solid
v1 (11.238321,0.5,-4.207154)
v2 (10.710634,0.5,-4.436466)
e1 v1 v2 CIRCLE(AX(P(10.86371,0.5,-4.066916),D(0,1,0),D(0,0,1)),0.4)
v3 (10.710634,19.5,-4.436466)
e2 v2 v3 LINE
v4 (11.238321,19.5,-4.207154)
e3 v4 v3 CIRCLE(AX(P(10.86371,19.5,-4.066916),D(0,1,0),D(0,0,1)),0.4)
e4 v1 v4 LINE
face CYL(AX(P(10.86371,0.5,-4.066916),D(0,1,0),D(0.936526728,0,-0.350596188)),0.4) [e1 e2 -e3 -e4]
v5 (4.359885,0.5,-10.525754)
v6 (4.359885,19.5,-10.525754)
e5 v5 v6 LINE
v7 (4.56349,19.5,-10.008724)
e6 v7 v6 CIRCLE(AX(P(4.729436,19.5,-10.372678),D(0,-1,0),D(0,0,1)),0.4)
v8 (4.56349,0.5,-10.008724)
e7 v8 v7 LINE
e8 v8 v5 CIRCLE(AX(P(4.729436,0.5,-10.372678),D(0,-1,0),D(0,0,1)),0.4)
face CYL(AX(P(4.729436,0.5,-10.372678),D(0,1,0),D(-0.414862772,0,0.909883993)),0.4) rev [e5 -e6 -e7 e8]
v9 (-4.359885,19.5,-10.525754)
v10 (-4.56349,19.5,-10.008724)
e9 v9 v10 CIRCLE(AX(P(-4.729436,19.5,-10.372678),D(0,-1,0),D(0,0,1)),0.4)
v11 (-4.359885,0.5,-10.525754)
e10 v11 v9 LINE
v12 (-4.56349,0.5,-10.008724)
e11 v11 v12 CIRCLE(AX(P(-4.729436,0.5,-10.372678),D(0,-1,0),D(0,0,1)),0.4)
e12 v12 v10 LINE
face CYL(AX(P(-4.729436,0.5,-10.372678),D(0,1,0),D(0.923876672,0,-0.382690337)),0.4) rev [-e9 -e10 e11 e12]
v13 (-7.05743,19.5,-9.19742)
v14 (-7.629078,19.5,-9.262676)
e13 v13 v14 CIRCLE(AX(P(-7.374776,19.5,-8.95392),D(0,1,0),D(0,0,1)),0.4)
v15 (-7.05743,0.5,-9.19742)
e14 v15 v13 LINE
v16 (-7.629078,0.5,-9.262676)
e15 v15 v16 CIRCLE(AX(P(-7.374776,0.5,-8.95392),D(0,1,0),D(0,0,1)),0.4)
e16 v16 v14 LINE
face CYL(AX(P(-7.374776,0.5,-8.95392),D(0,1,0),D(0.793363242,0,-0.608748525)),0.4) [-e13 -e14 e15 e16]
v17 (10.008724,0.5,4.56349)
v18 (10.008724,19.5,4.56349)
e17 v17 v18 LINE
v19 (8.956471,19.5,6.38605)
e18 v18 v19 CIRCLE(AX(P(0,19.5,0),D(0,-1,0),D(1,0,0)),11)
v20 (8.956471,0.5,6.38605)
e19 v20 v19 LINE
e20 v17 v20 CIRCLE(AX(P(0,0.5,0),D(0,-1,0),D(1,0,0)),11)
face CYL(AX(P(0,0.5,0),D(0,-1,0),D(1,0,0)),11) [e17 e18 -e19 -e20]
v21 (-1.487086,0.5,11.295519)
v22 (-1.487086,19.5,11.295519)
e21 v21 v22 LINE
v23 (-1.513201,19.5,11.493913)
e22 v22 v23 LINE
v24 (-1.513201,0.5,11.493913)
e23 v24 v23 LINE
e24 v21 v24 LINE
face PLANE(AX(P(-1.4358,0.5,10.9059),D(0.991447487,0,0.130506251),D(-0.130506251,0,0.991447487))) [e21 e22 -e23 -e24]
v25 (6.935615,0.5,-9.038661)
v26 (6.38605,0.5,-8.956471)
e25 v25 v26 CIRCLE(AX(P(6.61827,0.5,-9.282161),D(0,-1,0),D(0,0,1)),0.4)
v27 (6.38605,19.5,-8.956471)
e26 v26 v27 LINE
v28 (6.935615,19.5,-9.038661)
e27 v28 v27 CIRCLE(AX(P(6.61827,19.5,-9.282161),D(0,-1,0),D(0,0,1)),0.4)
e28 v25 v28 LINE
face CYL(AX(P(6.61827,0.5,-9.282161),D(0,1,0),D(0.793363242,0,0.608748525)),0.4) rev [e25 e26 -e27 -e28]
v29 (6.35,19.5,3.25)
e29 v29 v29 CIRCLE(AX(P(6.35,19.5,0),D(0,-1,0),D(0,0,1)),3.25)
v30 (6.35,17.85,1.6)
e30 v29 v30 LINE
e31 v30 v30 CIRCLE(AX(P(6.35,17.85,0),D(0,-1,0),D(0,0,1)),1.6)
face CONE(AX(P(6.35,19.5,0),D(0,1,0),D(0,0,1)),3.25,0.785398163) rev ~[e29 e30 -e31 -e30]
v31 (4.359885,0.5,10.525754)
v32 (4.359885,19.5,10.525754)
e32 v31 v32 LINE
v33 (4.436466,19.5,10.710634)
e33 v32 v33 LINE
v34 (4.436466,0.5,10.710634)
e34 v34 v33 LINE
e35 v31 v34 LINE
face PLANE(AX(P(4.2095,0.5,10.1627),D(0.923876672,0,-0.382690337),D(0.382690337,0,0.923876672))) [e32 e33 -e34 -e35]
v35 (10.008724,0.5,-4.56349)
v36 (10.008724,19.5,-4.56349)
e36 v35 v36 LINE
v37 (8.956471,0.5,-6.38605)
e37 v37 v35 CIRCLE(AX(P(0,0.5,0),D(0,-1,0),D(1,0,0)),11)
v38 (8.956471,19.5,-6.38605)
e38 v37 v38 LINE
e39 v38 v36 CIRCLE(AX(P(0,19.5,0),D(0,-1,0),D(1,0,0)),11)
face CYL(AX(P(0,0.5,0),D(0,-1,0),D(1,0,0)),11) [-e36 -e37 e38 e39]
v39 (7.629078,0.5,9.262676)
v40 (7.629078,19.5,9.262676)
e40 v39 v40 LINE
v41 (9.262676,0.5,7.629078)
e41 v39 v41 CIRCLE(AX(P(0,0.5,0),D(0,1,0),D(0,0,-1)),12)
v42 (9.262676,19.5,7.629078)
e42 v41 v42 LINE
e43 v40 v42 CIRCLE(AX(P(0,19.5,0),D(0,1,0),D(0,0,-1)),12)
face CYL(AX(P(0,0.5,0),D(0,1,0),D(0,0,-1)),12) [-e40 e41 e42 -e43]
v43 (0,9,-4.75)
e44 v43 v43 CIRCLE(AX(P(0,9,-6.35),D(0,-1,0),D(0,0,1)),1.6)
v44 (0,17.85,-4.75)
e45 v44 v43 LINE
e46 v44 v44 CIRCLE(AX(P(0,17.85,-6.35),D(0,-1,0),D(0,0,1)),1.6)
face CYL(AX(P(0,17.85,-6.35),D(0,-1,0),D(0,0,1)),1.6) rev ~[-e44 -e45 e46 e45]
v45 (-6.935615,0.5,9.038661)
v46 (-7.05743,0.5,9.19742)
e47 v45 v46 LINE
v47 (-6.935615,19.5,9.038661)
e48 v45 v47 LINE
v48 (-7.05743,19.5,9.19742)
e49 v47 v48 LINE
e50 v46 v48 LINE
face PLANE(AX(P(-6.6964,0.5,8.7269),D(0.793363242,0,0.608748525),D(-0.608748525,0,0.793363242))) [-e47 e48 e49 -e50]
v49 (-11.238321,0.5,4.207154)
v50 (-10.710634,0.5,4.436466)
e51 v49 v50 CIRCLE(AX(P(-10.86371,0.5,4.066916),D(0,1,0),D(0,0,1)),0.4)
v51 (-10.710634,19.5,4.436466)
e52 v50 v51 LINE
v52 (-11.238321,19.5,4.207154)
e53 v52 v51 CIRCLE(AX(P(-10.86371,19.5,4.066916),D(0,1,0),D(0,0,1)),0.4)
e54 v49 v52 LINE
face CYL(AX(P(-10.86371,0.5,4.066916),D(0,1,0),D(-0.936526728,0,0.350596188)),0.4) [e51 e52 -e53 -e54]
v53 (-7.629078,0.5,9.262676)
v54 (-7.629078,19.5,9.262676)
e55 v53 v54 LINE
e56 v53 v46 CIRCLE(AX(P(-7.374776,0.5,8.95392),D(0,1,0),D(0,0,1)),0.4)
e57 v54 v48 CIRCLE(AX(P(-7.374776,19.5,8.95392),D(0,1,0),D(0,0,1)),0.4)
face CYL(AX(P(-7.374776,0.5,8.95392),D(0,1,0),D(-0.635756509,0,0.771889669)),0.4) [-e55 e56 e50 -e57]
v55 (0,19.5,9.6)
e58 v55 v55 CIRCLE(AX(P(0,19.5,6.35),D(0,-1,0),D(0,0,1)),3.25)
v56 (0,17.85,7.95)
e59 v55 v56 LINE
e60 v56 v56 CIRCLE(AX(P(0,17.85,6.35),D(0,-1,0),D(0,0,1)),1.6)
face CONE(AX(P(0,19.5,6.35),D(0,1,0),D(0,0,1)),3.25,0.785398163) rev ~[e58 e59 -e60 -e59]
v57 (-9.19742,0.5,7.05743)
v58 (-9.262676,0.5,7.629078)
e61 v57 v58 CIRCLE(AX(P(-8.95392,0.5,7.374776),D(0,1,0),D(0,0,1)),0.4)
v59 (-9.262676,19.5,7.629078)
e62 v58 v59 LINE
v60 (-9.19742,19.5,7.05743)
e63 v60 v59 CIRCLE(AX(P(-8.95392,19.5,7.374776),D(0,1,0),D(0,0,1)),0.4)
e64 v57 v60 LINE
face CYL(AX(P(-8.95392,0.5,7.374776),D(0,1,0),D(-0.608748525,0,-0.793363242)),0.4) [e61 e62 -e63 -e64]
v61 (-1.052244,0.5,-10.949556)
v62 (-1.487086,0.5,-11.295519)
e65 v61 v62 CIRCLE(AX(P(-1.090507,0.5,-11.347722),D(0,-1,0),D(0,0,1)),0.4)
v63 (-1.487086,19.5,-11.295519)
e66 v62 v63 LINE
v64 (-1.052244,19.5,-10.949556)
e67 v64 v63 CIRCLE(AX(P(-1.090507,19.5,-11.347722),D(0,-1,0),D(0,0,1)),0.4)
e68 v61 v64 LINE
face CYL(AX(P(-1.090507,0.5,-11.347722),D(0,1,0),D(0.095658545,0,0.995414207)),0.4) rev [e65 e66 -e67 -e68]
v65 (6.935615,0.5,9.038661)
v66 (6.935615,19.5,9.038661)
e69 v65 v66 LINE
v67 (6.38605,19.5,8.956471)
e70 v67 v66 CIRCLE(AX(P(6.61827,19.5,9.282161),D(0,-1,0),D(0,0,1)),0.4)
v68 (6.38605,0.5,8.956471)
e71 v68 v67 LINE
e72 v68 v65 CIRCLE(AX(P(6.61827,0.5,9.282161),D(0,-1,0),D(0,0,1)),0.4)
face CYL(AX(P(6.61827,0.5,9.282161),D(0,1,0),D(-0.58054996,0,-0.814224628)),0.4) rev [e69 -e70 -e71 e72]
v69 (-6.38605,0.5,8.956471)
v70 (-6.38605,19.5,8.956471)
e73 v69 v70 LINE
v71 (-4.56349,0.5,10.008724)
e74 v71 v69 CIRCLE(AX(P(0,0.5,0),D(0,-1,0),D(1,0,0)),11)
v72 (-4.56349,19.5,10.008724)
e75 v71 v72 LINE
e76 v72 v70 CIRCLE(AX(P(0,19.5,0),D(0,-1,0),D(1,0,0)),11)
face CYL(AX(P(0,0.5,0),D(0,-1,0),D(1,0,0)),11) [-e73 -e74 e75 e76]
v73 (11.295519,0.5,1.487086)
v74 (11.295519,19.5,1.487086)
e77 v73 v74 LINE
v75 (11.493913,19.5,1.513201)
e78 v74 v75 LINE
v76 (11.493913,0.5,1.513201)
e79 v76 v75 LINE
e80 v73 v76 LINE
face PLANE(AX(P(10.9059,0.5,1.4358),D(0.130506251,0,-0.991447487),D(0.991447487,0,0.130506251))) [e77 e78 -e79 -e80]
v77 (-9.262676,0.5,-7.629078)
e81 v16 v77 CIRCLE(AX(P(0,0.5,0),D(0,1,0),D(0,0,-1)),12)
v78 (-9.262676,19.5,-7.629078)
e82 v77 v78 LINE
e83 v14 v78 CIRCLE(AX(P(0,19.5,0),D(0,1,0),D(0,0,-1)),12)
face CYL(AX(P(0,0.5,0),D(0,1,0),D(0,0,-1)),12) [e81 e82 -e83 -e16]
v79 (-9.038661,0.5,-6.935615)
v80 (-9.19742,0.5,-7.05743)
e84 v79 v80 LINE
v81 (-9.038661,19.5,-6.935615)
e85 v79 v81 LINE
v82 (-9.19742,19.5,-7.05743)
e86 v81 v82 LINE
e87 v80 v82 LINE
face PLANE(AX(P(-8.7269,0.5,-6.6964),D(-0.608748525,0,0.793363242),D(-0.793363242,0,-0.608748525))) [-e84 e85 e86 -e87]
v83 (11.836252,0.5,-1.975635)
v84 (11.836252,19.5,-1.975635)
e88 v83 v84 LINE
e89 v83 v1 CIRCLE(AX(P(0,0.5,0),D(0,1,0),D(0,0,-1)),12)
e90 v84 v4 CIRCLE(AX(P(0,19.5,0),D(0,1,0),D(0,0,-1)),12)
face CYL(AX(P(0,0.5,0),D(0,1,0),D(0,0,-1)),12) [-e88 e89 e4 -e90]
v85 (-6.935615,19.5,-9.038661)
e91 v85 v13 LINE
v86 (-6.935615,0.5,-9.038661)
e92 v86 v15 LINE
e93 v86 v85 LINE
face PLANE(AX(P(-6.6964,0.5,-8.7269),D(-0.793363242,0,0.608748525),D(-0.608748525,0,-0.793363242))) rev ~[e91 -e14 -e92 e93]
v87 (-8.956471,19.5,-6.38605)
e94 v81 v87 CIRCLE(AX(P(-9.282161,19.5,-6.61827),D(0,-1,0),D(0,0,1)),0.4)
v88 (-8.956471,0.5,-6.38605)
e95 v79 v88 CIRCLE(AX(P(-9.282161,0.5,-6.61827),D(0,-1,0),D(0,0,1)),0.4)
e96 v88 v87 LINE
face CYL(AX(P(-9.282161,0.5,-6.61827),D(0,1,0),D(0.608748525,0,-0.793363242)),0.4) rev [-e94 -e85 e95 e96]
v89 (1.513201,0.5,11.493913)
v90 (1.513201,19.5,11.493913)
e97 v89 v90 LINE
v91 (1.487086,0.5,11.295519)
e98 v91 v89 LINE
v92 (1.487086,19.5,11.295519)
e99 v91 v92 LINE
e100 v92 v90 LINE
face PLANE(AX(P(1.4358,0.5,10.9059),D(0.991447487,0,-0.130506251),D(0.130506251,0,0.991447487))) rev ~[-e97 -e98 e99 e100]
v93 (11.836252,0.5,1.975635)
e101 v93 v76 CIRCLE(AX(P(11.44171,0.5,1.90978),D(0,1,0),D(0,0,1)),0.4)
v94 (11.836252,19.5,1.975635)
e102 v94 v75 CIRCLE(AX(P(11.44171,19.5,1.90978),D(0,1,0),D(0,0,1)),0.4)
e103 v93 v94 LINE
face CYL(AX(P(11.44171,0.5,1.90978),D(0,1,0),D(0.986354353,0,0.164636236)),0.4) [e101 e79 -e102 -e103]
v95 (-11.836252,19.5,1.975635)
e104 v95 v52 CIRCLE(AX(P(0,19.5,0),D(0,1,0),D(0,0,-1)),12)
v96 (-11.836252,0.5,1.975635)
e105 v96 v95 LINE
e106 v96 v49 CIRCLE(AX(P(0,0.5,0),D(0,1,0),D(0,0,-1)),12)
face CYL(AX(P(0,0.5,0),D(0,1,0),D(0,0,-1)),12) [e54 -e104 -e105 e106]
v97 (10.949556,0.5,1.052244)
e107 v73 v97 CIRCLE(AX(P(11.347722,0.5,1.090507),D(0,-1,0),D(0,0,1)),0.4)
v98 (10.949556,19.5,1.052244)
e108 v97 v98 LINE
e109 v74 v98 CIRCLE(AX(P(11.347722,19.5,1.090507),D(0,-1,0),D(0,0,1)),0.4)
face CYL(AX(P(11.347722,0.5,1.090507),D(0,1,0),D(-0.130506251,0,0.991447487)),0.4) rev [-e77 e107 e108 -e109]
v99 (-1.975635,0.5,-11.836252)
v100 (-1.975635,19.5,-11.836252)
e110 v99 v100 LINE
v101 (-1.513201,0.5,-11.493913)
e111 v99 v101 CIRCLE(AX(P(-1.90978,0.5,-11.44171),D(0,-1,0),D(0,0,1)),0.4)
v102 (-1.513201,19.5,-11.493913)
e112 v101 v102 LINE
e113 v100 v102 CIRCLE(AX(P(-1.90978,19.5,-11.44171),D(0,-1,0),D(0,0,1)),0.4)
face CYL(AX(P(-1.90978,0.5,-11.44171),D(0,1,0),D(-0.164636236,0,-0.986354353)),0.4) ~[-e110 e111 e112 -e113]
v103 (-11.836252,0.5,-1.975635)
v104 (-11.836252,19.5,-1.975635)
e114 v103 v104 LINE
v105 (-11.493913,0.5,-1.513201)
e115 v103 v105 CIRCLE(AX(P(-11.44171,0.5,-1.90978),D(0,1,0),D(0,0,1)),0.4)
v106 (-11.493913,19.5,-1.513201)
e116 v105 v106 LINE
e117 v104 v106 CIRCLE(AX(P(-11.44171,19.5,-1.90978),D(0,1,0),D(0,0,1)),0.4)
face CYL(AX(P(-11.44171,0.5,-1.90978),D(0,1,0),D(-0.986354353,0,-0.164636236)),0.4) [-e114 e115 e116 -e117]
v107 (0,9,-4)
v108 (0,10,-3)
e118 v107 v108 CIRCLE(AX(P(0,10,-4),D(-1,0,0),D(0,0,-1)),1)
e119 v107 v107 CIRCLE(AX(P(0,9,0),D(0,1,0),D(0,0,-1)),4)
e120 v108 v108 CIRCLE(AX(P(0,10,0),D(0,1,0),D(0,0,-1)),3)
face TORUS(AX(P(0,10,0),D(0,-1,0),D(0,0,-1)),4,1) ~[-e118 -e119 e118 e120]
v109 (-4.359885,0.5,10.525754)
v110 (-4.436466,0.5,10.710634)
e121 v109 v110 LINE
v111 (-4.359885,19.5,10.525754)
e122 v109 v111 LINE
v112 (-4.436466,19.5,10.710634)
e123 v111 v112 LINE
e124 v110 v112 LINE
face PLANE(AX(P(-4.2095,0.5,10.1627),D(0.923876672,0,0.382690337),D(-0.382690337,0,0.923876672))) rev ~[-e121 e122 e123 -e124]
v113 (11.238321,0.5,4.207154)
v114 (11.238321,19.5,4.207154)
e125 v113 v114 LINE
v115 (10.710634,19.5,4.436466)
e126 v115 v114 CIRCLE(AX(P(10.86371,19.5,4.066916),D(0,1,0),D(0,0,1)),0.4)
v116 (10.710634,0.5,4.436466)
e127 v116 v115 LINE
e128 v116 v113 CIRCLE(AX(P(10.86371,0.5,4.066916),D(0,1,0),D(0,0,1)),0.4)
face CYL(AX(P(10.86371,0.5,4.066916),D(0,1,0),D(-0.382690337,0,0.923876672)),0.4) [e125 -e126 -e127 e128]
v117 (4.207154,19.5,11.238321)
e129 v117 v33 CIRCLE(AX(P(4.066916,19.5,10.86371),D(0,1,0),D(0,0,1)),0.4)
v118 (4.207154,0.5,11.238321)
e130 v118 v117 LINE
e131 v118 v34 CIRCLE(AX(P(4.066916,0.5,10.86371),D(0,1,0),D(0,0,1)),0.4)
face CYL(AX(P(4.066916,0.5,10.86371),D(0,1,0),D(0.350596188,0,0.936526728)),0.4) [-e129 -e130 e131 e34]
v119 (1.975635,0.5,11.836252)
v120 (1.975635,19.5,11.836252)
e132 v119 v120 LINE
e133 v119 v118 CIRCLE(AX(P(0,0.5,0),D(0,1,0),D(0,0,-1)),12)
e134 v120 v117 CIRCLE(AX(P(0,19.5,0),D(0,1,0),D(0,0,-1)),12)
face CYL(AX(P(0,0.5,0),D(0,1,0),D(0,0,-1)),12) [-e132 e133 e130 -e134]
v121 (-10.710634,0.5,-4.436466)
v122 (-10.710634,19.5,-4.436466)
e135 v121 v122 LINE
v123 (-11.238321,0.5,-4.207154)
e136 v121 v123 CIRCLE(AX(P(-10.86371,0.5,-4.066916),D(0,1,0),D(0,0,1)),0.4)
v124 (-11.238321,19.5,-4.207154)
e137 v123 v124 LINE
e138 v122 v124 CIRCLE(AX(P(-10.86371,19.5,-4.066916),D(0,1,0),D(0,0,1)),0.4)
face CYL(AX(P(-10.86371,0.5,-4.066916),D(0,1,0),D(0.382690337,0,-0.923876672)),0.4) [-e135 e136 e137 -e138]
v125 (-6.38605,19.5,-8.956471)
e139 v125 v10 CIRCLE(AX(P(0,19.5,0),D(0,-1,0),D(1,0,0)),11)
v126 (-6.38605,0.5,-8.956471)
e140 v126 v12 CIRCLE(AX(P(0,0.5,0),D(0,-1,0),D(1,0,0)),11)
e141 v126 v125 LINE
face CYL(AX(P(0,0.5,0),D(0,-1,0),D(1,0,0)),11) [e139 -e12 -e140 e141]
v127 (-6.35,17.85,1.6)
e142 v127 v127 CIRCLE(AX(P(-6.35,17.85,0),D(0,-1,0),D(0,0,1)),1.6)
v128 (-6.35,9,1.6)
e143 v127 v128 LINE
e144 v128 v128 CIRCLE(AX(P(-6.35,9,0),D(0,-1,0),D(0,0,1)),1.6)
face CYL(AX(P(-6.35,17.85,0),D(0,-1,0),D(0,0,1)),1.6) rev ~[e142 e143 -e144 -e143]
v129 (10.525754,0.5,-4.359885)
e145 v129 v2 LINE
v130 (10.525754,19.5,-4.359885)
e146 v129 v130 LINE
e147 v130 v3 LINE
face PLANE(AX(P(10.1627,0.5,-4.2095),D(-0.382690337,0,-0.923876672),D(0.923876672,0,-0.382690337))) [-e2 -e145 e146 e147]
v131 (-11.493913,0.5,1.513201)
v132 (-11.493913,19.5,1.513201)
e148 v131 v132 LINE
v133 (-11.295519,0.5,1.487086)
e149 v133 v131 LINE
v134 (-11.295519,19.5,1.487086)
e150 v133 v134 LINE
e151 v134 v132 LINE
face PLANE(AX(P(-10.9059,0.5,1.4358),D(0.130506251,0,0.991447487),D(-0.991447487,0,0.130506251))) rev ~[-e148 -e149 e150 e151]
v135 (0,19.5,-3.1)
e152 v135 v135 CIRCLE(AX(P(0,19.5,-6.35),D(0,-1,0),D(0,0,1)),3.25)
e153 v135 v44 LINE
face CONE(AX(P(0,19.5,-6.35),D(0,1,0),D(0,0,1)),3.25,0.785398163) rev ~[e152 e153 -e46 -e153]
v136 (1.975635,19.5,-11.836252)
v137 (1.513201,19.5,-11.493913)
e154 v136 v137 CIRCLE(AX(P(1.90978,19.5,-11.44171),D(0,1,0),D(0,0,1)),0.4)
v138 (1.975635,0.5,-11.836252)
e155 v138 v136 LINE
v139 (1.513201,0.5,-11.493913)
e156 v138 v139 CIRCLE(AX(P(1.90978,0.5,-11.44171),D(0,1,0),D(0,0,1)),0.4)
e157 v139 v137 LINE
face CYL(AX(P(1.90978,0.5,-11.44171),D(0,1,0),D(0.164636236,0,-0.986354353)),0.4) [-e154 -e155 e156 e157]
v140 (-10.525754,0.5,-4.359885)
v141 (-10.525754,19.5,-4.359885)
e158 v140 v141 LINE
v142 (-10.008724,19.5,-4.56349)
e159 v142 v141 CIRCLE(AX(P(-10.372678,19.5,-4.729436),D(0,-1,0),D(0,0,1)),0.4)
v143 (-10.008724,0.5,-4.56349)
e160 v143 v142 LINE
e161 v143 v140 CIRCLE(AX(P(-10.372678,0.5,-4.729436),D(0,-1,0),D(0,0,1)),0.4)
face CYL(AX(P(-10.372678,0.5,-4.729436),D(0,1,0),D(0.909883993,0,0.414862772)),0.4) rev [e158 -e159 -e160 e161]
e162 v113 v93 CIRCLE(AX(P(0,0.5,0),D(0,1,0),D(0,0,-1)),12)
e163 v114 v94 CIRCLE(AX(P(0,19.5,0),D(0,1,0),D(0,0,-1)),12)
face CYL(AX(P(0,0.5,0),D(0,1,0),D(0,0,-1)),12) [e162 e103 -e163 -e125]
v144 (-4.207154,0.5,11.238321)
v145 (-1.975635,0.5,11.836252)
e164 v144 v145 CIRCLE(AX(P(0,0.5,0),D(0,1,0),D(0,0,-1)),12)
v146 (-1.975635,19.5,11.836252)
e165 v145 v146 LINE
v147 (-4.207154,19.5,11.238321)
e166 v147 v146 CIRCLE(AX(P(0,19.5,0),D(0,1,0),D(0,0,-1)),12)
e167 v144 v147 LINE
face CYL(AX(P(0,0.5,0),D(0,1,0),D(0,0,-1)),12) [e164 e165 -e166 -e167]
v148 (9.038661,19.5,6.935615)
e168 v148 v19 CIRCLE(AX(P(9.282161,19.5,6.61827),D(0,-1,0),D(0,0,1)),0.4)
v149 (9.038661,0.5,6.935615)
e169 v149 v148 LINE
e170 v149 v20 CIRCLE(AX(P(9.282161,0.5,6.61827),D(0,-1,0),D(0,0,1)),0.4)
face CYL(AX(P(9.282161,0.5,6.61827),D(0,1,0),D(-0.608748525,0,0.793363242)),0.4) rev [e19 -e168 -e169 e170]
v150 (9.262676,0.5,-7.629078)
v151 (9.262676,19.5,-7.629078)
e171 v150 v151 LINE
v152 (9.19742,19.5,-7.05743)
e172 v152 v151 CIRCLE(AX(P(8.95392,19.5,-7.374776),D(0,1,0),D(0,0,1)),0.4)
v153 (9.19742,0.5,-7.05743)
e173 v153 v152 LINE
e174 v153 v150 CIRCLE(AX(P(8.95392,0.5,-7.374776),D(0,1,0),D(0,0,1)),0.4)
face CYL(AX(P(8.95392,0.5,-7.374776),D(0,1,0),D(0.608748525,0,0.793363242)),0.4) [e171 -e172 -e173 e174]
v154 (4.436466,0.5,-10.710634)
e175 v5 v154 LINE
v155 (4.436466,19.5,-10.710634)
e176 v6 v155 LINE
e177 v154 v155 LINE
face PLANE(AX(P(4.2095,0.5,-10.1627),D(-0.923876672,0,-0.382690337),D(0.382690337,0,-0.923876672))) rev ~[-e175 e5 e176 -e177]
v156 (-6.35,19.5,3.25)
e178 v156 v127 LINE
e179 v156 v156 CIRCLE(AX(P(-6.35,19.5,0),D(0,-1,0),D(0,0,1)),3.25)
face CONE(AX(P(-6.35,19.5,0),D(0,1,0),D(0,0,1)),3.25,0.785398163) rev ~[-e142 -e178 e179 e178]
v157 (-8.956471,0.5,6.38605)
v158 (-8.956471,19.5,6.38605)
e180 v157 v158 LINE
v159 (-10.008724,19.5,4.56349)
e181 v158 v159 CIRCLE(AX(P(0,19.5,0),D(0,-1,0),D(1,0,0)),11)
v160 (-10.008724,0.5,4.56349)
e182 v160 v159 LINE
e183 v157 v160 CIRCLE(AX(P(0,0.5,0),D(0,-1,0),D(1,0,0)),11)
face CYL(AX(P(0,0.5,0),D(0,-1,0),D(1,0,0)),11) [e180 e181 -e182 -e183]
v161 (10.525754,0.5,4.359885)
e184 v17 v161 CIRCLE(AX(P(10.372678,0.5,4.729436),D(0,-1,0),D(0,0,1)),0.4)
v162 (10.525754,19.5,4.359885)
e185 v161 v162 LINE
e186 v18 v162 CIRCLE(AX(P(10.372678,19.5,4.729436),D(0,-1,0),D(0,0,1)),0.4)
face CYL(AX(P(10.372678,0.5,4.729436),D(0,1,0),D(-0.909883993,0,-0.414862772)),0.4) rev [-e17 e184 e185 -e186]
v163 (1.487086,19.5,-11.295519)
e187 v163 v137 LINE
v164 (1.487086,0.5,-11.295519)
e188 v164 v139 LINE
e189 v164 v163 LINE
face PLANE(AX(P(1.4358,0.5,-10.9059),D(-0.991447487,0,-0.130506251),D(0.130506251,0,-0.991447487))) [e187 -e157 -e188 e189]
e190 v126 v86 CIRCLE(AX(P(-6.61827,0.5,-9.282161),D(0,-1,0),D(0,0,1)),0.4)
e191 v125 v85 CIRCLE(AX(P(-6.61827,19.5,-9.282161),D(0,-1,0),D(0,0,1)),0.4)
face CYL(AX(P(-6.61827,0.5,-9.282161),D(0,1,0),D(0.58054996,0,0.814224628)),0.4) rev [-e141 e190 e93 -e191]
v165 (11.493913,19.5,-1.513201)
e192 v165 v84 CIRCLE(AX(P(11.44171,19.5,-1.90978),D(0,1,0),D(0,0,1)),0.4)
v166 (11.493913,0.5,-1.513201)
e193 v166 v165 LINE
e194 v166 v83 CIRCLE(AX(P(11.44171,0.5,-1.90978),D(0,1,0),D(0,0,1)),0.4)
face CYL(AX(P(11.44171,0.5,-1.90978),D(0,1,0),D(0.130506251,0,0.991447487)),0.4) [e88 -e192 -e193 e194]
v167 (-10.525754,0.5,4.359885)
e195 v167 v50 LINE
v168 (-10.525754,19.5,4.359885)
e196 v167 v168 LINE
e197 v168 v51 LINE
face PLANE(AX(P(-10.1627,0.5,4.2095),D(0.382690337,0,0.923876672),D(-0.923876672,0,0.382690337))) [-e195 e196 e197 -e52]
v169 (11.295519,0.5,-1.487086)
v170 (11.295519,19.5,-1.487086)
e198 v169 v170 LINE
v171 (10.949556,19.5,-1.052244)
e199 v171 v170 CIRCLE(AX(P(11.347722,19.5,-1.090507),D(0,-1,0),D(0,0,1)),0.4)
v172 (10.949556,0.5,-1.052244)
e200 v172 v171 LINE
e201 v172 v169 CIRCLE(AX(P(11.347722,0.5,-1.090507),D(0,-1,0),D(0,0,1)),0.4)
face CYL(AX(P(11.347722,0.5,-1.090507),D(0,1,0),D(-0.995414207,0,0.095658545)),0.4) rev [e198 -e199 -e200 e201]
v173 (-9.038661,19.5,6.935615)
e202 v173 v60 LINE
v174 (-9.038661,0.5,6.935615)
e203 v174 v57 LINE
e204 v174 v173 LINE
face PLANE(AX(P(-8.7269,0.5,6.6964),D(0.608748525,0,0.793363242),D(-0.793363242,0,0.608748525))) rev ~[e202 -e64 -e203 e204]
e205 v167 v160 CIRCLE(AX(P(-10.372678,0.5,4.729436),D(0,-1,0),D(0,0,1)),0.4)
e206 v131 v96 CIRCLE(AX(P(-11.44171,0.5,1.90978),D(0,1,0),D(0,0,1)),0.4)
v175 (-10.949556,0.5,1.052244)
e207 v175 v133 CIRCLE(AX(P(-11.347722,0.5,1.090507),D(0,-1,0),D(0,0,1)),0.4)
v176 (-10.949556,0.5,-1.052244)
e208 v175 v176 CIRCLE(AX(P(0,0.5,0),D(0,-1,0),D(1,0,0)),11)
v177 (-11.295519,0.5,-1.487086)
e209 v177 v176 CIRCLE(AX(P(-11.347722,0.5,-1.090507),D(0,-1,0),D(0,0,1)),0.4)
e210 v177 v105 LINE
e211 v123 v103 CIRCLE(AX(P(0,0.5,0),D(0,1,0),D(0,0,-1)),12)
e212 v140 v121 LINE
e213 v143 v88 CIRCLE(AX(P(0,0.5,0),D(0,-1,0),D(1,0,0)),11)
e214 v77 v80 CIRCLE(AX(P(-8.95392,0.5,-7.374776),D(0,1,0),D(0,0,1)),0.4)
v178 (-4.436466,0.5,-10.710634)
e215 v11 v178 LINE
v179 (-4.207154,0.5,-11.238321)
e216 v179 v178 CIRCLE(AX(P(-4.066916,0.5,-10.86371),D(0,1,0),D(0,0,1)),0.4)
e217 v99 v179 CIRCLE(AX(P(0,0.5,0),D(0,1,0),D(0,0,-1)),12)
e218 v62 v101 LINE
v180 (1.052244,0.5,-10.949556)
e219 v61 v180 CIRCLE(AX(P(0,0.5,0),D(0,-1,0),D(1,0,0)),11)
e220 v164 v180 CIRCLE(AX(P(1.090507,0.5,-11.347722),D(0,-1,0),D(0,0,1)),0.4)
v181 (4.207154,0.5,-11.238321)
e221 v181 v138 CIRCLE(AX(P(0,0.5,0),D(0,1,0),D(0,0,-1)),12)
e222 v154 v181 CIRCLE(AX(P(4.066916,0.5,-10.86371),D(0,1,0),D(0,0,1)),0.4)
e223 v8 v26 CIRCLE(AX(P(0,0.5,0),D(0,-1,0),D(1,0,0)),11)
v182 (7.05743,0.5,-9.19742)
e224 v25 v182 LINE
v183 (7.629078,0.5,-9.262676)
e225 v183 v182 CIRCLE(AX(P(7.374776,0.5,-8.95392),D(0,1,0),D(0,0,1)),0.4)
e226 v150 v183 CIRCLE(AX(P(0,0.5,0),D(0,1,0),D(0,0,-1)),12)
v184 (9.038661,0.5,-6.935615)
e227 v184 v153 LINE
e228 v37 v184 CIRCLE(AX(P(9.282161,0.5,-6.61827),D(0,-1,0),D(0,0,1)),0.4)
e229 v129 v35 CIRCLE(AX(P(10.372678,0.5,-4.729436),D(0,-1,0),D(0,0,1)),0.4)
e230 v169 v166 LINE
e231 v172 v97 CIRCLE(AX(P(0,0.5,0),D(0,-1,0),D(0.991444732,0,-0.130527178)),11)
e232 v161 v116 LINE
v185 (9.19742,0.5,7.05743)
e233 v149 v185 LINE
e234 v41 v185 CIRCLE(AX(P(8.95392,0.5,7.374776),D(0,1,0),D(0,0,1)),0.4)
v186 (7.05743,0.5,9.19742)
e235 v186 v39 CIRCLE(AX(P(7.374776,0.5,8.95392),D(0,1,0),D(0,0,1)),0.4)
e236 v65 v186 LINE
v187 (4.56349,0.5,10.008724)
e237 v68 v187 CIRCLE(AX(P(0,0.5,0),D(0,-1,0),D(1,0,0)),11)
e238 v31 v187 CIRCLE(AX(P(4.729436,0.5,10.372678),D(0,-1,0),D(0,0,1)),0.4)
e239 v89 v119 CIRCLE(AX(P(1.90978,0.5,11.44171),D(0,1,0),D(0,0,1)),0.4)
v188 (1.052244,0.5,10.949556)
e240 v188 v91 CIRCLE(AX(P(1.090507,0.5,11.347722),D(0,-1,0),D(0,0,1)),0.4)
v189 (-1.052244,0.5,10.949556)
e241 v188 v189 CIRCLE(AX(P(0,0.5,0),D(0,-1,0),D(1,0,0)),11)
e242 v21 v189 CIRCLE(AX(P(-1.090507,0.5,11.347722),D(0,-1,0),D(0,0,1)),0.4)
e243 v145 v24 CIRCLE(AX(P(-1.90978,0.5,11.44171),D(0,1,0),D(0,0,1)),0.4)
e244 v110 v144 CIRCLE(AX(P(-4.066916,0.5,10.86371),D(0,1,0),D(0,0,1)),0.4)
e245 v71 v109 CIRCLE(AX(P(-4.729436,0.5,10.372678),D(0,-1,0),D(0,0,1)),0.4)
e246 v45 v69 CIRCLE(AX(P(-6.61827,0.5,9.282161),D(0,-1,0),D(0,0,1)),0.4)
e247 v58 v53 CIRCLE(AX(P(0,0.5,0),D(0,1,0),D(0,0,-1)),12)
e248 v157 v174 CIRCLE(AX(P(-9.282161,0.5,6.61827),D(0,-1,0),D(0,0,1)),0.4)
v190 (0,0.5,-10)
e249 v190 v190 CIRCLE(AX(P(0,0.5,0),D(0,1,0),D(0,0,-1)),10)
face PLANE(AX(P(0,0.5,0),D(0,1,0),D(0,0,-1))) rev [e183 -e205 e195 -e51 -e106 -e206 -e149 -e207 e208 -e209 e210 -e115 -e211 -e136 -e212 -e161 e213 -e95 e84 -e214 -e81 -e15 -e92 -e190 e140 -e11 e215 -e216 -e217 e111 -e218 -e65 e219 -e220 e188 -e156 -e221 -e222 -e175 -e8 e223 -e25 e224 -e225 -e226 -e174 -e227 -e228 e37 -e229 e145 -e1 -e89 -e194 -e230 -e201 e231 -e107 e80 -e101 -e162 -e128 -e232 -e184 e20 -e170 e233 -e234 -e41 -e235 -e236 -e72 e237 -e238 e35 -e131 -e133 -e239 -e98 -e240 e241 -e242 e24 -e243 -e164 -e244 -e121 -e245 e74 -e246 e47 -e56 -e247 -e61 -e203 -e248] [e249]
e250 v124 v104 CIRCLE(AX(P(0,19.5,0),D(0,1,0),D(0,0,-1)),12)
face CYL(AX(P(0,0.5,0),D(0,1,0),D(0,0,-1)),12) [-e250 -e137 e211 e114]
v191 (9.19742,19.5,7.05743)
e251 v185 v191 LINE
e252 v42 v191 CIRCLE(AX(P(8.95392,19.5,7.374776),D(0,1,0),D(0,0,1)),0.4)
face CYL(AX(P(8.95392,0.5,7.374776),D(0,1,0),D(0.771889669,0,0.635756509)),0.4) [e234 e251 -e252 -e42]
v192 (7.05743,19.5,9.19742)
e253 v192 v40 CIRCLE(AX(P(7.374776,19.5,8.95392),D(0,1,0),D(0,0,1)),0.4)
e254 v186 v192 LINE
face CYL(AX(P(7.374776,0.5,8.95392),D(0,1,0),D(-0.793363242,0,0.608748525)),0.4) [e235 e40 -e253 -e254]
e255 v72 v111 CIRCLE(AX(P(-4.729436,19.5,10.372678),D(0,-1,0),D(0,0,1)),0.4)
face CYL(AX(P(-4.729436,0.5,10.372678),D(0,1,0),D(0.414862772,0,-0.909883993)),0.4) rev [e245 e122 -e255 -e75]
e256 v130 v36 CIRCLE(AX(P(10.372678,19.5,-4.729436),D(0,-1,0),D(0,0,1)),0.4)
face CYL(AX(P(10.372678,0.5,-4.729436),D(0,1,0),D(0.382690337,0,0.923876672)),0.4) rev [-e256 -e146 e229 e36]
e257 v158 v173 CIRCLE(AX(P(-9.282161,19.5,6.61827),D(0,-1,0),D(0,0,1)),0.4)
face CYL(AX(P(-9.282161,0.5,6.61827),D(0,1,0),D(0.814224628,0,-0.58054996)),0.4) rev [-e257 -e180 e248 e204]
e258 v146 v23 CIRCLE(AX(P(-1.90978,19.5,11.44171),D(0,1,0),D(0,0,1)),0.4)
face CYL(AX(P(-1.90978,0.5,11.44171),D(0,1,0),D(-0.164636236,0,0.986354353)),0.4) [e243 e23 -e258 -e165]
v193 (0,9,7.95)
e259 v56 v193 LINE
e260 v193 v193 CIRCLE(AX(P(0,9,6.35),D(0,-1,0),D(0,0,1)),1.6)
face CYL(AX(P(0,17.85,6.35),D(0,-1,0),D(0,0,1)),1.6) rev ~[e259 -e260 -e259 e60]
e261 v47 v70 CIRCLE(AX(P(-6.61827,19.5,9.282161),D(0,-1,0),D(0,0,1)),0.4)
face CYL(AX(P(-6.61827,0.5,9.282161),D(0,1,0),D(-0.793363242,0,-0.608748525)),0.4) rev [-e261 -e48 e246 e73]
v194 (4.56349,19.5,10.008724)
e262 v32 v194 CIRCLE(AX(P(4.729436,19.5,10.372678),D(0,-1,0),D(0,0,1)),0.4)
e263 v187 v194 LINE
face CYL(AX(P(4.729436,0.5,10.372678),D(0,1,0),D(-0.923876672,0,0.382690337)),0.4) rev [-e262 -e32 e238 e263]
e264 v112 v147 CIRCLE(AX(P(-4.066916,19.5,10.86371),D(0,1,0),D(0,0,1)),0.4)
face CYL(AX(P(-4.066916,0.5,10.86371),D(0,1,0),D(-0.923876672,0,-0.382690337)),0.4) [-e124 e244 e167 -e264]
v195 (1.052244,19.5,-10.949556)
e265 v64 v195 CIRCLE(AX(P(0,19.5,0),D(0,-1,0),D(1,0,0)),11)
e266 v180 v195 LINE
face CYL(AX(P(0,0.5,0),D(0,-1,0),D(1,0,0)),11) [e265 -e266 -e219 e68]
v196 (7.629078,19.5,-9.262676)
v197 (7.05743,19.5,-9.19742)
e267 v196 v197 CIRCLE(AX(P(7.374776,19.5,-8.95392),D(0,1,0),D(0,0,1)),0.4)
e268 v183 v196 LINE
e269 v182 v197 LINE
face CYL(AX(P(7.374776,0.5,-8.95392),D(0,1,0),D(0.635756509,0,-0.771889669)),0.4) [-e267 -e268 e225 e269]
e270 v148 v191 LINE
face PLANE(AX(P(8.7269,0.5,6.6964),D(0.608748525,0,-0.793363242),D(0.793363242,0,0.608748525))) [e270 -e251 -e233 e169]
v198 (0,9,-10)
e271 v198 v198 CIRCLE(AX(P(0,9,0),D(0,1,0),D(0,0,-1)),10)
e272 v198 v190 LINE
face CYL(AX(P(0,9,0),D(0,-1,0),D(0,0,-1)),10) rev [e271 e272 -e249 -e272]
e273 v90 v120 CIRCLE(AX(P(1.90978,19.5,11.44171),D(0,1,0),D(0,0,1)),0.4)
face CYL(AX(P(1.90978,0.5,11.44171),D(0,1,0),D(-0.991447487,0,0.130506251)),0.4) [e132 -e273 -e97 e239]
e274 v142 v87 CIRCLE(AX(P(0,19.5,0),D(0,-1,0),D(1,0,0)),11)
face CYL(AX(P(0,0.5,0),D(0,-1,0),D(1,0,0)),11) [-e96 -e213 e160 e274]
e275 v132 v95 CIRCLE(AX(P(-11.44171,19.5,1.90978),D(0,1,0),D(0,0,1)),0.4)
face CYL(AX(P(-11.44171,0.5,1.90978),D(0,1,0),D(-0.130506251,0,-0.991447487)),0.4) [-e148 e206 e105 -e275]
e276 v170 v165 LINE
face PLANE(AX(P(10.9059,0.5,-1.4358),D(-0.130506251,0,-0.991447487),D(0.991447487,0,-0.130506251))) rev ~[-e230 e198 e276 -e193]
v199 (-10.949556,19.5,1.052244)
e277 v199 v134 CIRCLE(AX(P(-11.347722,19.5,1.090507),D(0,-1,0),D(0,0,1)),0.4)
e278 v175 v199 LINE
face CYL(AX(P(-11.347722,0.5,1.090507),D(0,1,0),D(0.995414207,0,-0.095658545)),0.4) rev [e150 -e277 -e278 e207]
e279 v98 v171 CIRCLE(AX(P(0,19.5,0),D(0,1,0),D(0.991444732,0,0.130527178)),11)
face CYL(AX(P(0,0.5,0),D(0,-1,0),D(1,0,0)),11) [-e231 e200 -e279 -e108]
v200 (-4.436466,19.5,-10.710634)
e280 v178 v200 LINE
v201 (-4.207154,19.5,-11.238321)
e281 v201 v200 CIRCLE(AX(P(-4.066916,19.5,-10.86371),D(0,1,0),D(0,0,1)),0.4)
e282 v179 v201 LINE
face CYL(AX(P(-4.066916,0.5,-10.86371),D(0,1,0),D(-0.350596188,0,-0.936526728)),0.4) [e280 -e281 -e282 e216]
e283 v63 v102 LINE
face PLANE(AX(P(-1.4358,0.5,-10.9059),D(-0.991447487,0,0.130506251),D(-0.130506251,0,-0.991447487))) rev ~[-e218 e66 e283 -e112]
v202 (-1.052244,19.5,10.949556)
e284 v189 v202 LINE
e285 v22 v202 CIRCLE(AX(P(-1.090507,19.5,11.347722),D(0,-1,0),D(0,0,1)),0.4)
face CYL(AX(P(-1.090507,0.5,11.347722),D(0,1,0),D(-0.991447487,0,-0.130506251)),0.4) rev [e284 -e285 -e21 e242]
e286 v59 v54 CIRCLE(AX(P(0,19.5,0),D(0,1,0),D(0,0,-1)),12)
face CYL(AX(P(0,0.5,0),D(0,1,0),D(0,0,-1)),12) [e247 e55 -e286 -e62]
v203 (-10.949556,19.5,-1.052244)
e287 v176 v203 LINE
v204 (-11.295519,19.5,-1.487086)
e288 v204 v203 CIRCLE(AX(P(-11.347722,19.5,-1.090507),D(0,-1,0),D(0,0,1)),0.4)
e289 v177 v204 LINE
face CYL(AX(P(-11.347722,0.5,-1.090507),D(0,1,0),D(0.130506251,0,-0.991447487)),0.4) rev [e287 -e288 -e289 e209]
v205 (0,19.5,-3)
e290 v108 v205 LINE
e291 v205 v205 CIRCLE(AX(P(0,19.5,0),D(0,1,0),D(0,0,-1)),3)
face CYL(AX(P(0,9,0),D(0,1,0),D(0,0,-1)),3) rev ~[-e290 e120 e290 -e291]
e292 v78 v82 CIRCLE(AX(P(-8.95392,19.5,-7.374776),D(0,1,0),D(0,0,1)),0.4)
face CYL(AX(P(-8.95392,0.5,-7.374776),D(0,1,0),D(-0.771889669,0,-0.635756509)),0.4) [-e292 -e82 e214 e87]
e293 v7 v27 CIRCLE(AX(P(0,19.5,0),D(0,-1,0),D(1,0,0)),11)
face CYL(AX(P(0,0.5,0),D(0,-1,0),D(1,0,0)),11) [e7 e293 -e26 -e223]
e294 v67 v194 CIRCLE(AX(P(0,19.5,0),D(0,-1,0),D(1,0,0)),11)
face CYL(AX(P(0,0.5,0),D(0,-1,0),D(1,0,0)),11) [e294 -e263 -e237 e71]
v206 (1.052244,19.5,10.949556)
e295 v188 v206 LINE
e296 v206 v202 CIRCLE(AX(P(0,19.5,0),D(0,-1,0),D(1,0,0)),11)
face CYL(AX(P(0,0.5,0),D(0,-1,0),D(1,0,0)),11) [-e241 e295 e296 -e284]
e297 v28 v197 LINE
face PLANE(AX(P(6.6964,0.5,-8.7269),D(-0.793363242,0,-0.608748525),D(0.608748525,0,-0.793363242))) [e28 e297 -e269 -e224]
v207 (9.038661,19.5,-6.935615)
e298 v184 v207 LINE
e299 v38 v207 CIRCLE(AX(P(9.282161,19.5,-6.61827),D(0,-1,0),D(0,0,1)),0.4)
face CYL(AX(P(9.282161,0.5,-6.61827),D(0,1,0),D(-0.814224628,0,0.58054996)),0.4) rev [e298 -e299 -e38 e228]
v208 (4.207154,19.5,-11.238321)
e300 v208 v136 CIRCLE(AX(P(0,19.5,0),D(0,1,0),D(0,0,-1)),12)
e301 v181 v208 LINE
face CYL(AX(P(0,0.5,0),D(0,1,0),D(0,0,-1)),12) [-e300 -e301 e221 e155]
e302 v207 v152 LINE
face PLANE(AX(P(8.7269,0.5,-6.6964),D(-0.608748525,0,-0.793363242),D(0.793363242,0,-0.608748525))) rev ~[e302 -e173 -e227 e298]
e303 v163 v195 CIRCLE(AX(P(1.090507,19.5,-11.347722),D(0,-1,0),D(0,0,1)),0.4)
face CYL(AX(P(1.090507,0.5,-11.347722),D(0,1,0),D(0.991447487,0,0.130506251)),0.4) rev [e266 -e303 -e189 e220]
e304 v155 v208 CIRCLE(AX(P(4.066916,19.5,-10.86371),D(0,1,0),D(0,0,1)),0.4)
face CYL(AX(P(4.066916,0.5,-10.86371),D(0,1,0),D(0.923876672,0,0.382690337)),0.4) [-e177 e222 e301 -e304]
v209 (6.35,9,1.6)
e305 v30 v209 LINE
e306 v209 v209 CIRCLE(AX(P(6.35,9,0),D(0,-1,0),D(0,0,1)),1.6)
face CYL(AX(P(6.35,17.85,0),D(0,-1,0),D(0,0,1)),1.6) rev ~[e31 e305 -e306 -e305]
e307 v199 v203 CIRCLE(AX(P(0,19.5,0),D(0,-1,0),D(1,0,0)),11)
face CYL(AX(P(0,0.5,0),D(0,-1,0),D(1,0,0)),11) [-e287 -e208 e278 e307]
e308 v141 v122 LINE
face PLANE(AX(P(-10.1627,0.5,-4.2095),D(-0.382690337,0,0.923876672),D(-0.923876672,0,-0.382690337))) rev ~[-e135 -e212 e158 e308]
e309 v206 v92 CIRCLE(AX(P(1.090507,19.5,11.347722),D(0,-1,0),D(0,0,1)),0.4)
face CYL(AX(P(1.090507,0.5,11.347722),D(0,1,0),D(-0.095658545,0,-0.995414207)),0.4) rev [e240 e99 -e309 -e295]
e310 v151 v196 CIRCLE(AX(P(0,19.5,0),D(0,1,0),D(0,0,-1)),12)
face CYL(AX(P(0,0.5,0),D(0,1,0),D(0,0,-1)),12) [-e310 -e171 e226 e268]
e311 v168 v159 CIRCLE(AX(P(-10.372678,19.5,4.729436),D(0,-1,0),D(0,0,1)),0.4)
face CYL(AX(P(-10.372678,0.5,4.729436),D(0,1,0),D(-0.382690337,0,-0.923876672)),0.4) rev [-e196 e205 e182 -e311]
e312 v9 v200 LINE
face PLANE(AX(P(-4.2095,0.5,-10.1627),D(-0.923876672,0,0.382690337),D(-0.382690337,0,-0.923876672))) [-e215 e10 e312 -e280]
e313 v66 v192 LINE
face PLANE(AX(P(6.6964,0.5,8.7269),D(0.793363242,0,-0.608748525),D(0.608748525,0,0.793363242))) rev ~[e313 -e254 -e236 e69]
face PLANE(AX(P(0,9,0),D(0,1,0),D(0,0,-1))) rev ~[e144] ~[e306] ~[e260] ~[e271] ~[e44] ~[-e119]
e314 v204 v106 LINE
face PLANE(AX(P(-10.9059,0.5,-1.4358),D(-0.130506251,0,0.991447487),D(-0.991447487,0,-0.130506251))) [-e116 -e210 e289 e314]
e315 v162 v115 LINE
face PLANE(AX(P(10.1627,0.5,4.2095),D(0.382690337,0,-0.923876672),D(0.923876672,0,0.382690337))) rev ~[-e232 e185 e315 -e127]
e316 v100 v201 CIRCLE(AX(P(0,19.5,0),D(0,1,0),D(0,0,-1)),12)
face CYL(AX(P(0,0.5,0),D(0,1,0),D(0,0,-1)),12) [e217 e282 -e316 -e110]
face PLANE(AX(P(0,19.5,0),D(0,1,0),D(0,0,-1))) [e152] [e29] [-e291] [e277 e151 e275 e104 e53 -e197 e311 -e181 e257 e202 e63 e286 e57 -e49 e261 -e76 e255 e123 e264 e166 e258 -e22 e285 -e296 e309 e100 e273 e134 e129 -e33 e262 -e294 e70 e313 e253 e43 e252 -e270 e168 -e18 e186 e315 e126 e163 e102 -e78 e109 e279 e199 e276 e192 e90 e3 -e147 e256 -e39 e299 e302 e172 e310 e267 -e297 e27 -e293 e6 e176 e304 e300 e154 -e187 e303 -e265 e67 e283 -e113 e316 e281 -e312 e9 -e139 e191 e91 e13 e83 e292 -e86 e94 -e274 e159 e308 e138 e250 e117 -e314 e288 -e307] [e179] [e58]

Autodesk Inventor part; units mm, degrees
ref_plane "YZ Plane" through (0, 0, 0) normal (1, 0, 0) x (0, 1, 0)
ref_plane "XZ Plane" through (0, 0, 0) normal (0, 1, 0) x (-1, 0, 0)
ref_plane "XY Plane" through (0, 0, 0) normal (0, 0, 1) x (1, 0, 0)
sketch "Sketch1" plane through (0, 0, 0) normal (1, 0, 0) x (0, 1, 0)
  line L0 (0, 30) -> (0, -30) construction
  line L1 (0, 5) -> (0.4, 5) construction
  line L2 (0.4, 5) -> (0.4, -5) construction
  line L3 (0.4, -5) -> (0, -5) construction
  line L4 (1, 9.5) -> (9, 9.5) construction
  line L5 (9, 9.5) -> (9, -9.5) construction
  line L6 (9, -9.5) -> (1, -9.5) construction
  line L7 (1, -9.5) -> (1, 9.5) construction
  line L8 (9, -10) -> (0.5, -10)
  line L9 (0.5, -10) -> (0.5, -15)
  line L10 (0.5, -15) -> (19.5, -15) construction
  line L11 (19.5, -15) -> (19.5, -3)
  line L12 (0, 3) -> (19.5, 3) construction
  line L13 (19.5, 3) -> (19.5, -3) construction
  line L14 (19.5, -3) -> (0, -3) construction
  line L15 (9, -10) -> (9, -3)
  line L16 (9, -3) -> (19.5, -3)
  line L17 (0.5, -12) -> (19.5, -12)
  line L18 (3.8567, -6.35) -> (19.5, -6.35) construction
  line L19 (19.5, -3.1) -> (16.25, -6.35) construction
  line L20 (16.25, -6.35) -> (19.5, -9.6) construction
  line L21 (17.75, -4.85) -> (9, -4.85) construction
  line L22 (9, -7.85) -> (17.75, -7.85) construction
  line L23 (0.4, 0) -> (19.5, 0)
  point P0 (0, 0)
  point P1 (0, 0)
  point P2 (13.375, -12)
  point P3 (1, 0)
  dimension "d0" = 30
  dimension "d1" = 30
  dimension "d2" = 5
  dimension "d3" = 5
  dimension "d4" = 0.4
  dimension "d5" = 0.6
  dimension "d6" = 9.5
  dimension "d7" = 9.5
  dimension "d8" = 8
  dimension "d9" = 3
  dimension "d10" = 3
  dimension "d11" = 19.1
  dimension "d13" = 15
  dimension "d14" = 0.1
  dimension "d16" = 3
  dimension "d18" = 0.5
  dimension "d38" = 6
  dimension "d39" = 6.35
  dimension "d40" = 45
  dimension "d41" = 45
  dimension "d42" = 6.5
  dimension "d43" = 1.5
  dimension "d44" = 1.5
  dimension "d45" = 3
  dimension "d93" = 2
revolve "Revolution2" add sketch "Sketch1" angle 360 about axis through (0, 0.4, 0) along (0, 1, 0)
sketch "Sketch3" plane through (0, 19.5, 0) normal (0, 1, 0) x (1, 0, 0)
  circle A0 centre (0, 0) radius 3 projected
  line L0 (0, 0) -> (-6.35, 0)
  line L1 (0, 0) -> (0, -6.35)
  line L2 (0, 0) -> (6.35, 0)
  line L3 (0, 0) -> (0, 6.35)
  point P0 (0, 0)
  dimension "d59" = 6.35
  dimension "d62" = 360
hole "Hole1" at (-6.35, 19.5, 0) at (0, 19.5, 6.35) at (6.35, 19.5, 0) at (0, 19.5, -6.35) direction (0, -1, 0) diameter 3.2 end through all countersink diameter 6.5 countersink angle 90 clearance for "Countersunk Flat Head Screw ISO 2009/7046" size "M3" standard "ISO"
fillet "Fillet1" radius 1 1 edges at (0, 9, 3)
sketch "Sketch5" plane through (0, 0.5, 0) normal (0, -1, 0) x (1, 0, 0)
  circle A0 centre (0, 0) radius 12 projected
  circle A1 centre (0, 0) radius 10 projected
  line L0 (10, 0) -> (12, 0) construction
  circle A2 centre (0, 0) radius 12 projected
  circle A3 centre (0, 0) radius 10 projected
  line L1 (10, 0) -> (0, 0)
  circle A4 centre (0, 0) radius 11
  line L2 (10.9059, 1.4358) -> (11.8973, 1.5663)
  line L3 (10.9059, -1.4358) -> (11.8973, -1.5663)
  line L4 (8.7269, 6.6964) -> (9.5202, 7.3051)
  line L5 (10.1627, 4.2095) -> (11.0866, 4.5922)
  line L6 (4.2095, 10.1627) -> (4.5922, 11.0866)
  line L7 (6.6964, 8.7269) -> (7.3051, 9.5202)
  line L8 (-1.4358, 10.9059) -> (-1.5663, 11.8973)
  line L9 (1.4358, 10.9059) -> (1.5663, 11.8973)
  line L10 (-6.6964, 8.7269) -> (-7.3051, 9.5202)
  line L11 (-4.2095, 10.1627) -> (-4.5922, 11.0866)
  line L12 (-10.1627, 4.2095) -> (-11.0866, 4.5922)
  line L13 (-8.7269, 6.6964) -> (-9.5202, 7.3051)
  line L14 (-10.9059, -1.4358) -> (-11.8973, -1.5663)
  line L15 (-10.9059, 1.4358) -> (-11.8973, 1.5663)
  line L16 (-8.7269, -6.6964) -> (-9.5202, -7.3051)
  line L17 (-10.1627, -4.2095) -> (-11.0866, -4.5922)
  line L18 (-4.2095, -10.1627) -> (-4.5922, -11.0866)
  line L19 (-6.6964, -8.7269) -> (-7.3051, -9.5202)
  line L20 (1.4358, -10.9059) -> (1.5663, -11.8973)
  line L21 (-1.4358, -10.9059) -> (-1.5663, -11.8973)
  line L22 (6.6964, -8.7269) -> (7.3051, -9.5202)
  line L23 (4.2095, -10.1627) -> (4.5922, -11.0866)
  line L24 (10.1627, -4.2095) -> (11.0866, -4.5922)
  line L25 (8.7269, -6.6964) -> (9.5202, -7.3051)
  point P0 (0, 0)
  dimension "d94" = 1
  dimension "d95" = 7.5
  dimension "d96" = 7.5
  dimension "d99" = 360
extrude "Extrusion4" cut sketch "Sketch5" against normal up to surface (19 mm away) contours A0 L3 A4 L2 | L5 A4 L4 A0 | A0 L25 A4 L24 | L7 A4 L6 A0 | A0 L23 A4 L22 | L9 A4 L8 A0 | A0 L21 A4 L20 | L11 A4 L10 A0 | A0 L19 A4 L18 | L13 A4 L12 A0 | A0 L17 A4 L16 | L15 A4 L14 A0
fillet "Fillet3" radius 0.4 48 edges at (11.0866, 10, 4.5922) (11.8973, 10, 1.5663) (10.9059, 10, 1.4358) (10.1627, 10, 4.2095) (10.9059, 10, -1.4358) (11.8973, 10, -1.5663) (10.1627, 10, -4.2095) (11.0866, 10, -4.5922) (8.7269, 10, -6.6964) (9.5202, 10, -7.3051) (6.6964, 10, -8.7269) (7.3051, 10, -9.5202) (4.2095, 10, -10.1627) (4.5922, 10, -11.0866) (1.4358, 10, -10.9059) (1.5663, 10, -11.8973) (-1.4358, 10, -10.9059) (-1.5663, 10, -11.8973) (-4.2095, 10, -10.1627) (-4.5922, 10, -11.0866) (-6.6964, 10, -8.7269) (-7.3051, 10, -9.5202) (-8.7269, 10, -6.6964) (-9.5202, 10, -7.3051) (-10.1627, 10, -4.2095) (-11.0866, 10, -4.5922) (-10.9059, 10, -1.4358) (-11.8973, 10, -1.5663) (-10.9059, 10, 1.4358) (-11.8973, 10, 1.5663) (-11.0866, 10, 4.5922) (-10.1627, 10, 4.2095) (-8.7269, 10, 6.6964) (-9.5202, 10, 7.3051) (-7.3051, 10, 9.5202) (-6.6964, 10, 8.7269) (-4.2095, 10, 10.1627) (-4.5922, 10, 11.0866) (-1.4358, 10, 10.9059) (-1.5663, 10, 11.8973) (1.4358, 10, 10.9059) (1.5663, 10, 11.8973) (4.2095, 10, 10.1627) (4.5922, 10, 11.0866) (8.7269, 10, 6.6964) (9.5202, 10, 7.3051) (7.3051, 10, 9.5202) (6.6964, 10, 8.7269)
sketch "Sketch6" plane through (0, 19.5, 0) normal (0, 1, 0) x (1, 0, 0)
  point P0 (0, 0)
equation "\"d0\" = d1"
equation "\"d3\" = d2"
equation "\"d7\" = d6"
properties part number "Felga"
